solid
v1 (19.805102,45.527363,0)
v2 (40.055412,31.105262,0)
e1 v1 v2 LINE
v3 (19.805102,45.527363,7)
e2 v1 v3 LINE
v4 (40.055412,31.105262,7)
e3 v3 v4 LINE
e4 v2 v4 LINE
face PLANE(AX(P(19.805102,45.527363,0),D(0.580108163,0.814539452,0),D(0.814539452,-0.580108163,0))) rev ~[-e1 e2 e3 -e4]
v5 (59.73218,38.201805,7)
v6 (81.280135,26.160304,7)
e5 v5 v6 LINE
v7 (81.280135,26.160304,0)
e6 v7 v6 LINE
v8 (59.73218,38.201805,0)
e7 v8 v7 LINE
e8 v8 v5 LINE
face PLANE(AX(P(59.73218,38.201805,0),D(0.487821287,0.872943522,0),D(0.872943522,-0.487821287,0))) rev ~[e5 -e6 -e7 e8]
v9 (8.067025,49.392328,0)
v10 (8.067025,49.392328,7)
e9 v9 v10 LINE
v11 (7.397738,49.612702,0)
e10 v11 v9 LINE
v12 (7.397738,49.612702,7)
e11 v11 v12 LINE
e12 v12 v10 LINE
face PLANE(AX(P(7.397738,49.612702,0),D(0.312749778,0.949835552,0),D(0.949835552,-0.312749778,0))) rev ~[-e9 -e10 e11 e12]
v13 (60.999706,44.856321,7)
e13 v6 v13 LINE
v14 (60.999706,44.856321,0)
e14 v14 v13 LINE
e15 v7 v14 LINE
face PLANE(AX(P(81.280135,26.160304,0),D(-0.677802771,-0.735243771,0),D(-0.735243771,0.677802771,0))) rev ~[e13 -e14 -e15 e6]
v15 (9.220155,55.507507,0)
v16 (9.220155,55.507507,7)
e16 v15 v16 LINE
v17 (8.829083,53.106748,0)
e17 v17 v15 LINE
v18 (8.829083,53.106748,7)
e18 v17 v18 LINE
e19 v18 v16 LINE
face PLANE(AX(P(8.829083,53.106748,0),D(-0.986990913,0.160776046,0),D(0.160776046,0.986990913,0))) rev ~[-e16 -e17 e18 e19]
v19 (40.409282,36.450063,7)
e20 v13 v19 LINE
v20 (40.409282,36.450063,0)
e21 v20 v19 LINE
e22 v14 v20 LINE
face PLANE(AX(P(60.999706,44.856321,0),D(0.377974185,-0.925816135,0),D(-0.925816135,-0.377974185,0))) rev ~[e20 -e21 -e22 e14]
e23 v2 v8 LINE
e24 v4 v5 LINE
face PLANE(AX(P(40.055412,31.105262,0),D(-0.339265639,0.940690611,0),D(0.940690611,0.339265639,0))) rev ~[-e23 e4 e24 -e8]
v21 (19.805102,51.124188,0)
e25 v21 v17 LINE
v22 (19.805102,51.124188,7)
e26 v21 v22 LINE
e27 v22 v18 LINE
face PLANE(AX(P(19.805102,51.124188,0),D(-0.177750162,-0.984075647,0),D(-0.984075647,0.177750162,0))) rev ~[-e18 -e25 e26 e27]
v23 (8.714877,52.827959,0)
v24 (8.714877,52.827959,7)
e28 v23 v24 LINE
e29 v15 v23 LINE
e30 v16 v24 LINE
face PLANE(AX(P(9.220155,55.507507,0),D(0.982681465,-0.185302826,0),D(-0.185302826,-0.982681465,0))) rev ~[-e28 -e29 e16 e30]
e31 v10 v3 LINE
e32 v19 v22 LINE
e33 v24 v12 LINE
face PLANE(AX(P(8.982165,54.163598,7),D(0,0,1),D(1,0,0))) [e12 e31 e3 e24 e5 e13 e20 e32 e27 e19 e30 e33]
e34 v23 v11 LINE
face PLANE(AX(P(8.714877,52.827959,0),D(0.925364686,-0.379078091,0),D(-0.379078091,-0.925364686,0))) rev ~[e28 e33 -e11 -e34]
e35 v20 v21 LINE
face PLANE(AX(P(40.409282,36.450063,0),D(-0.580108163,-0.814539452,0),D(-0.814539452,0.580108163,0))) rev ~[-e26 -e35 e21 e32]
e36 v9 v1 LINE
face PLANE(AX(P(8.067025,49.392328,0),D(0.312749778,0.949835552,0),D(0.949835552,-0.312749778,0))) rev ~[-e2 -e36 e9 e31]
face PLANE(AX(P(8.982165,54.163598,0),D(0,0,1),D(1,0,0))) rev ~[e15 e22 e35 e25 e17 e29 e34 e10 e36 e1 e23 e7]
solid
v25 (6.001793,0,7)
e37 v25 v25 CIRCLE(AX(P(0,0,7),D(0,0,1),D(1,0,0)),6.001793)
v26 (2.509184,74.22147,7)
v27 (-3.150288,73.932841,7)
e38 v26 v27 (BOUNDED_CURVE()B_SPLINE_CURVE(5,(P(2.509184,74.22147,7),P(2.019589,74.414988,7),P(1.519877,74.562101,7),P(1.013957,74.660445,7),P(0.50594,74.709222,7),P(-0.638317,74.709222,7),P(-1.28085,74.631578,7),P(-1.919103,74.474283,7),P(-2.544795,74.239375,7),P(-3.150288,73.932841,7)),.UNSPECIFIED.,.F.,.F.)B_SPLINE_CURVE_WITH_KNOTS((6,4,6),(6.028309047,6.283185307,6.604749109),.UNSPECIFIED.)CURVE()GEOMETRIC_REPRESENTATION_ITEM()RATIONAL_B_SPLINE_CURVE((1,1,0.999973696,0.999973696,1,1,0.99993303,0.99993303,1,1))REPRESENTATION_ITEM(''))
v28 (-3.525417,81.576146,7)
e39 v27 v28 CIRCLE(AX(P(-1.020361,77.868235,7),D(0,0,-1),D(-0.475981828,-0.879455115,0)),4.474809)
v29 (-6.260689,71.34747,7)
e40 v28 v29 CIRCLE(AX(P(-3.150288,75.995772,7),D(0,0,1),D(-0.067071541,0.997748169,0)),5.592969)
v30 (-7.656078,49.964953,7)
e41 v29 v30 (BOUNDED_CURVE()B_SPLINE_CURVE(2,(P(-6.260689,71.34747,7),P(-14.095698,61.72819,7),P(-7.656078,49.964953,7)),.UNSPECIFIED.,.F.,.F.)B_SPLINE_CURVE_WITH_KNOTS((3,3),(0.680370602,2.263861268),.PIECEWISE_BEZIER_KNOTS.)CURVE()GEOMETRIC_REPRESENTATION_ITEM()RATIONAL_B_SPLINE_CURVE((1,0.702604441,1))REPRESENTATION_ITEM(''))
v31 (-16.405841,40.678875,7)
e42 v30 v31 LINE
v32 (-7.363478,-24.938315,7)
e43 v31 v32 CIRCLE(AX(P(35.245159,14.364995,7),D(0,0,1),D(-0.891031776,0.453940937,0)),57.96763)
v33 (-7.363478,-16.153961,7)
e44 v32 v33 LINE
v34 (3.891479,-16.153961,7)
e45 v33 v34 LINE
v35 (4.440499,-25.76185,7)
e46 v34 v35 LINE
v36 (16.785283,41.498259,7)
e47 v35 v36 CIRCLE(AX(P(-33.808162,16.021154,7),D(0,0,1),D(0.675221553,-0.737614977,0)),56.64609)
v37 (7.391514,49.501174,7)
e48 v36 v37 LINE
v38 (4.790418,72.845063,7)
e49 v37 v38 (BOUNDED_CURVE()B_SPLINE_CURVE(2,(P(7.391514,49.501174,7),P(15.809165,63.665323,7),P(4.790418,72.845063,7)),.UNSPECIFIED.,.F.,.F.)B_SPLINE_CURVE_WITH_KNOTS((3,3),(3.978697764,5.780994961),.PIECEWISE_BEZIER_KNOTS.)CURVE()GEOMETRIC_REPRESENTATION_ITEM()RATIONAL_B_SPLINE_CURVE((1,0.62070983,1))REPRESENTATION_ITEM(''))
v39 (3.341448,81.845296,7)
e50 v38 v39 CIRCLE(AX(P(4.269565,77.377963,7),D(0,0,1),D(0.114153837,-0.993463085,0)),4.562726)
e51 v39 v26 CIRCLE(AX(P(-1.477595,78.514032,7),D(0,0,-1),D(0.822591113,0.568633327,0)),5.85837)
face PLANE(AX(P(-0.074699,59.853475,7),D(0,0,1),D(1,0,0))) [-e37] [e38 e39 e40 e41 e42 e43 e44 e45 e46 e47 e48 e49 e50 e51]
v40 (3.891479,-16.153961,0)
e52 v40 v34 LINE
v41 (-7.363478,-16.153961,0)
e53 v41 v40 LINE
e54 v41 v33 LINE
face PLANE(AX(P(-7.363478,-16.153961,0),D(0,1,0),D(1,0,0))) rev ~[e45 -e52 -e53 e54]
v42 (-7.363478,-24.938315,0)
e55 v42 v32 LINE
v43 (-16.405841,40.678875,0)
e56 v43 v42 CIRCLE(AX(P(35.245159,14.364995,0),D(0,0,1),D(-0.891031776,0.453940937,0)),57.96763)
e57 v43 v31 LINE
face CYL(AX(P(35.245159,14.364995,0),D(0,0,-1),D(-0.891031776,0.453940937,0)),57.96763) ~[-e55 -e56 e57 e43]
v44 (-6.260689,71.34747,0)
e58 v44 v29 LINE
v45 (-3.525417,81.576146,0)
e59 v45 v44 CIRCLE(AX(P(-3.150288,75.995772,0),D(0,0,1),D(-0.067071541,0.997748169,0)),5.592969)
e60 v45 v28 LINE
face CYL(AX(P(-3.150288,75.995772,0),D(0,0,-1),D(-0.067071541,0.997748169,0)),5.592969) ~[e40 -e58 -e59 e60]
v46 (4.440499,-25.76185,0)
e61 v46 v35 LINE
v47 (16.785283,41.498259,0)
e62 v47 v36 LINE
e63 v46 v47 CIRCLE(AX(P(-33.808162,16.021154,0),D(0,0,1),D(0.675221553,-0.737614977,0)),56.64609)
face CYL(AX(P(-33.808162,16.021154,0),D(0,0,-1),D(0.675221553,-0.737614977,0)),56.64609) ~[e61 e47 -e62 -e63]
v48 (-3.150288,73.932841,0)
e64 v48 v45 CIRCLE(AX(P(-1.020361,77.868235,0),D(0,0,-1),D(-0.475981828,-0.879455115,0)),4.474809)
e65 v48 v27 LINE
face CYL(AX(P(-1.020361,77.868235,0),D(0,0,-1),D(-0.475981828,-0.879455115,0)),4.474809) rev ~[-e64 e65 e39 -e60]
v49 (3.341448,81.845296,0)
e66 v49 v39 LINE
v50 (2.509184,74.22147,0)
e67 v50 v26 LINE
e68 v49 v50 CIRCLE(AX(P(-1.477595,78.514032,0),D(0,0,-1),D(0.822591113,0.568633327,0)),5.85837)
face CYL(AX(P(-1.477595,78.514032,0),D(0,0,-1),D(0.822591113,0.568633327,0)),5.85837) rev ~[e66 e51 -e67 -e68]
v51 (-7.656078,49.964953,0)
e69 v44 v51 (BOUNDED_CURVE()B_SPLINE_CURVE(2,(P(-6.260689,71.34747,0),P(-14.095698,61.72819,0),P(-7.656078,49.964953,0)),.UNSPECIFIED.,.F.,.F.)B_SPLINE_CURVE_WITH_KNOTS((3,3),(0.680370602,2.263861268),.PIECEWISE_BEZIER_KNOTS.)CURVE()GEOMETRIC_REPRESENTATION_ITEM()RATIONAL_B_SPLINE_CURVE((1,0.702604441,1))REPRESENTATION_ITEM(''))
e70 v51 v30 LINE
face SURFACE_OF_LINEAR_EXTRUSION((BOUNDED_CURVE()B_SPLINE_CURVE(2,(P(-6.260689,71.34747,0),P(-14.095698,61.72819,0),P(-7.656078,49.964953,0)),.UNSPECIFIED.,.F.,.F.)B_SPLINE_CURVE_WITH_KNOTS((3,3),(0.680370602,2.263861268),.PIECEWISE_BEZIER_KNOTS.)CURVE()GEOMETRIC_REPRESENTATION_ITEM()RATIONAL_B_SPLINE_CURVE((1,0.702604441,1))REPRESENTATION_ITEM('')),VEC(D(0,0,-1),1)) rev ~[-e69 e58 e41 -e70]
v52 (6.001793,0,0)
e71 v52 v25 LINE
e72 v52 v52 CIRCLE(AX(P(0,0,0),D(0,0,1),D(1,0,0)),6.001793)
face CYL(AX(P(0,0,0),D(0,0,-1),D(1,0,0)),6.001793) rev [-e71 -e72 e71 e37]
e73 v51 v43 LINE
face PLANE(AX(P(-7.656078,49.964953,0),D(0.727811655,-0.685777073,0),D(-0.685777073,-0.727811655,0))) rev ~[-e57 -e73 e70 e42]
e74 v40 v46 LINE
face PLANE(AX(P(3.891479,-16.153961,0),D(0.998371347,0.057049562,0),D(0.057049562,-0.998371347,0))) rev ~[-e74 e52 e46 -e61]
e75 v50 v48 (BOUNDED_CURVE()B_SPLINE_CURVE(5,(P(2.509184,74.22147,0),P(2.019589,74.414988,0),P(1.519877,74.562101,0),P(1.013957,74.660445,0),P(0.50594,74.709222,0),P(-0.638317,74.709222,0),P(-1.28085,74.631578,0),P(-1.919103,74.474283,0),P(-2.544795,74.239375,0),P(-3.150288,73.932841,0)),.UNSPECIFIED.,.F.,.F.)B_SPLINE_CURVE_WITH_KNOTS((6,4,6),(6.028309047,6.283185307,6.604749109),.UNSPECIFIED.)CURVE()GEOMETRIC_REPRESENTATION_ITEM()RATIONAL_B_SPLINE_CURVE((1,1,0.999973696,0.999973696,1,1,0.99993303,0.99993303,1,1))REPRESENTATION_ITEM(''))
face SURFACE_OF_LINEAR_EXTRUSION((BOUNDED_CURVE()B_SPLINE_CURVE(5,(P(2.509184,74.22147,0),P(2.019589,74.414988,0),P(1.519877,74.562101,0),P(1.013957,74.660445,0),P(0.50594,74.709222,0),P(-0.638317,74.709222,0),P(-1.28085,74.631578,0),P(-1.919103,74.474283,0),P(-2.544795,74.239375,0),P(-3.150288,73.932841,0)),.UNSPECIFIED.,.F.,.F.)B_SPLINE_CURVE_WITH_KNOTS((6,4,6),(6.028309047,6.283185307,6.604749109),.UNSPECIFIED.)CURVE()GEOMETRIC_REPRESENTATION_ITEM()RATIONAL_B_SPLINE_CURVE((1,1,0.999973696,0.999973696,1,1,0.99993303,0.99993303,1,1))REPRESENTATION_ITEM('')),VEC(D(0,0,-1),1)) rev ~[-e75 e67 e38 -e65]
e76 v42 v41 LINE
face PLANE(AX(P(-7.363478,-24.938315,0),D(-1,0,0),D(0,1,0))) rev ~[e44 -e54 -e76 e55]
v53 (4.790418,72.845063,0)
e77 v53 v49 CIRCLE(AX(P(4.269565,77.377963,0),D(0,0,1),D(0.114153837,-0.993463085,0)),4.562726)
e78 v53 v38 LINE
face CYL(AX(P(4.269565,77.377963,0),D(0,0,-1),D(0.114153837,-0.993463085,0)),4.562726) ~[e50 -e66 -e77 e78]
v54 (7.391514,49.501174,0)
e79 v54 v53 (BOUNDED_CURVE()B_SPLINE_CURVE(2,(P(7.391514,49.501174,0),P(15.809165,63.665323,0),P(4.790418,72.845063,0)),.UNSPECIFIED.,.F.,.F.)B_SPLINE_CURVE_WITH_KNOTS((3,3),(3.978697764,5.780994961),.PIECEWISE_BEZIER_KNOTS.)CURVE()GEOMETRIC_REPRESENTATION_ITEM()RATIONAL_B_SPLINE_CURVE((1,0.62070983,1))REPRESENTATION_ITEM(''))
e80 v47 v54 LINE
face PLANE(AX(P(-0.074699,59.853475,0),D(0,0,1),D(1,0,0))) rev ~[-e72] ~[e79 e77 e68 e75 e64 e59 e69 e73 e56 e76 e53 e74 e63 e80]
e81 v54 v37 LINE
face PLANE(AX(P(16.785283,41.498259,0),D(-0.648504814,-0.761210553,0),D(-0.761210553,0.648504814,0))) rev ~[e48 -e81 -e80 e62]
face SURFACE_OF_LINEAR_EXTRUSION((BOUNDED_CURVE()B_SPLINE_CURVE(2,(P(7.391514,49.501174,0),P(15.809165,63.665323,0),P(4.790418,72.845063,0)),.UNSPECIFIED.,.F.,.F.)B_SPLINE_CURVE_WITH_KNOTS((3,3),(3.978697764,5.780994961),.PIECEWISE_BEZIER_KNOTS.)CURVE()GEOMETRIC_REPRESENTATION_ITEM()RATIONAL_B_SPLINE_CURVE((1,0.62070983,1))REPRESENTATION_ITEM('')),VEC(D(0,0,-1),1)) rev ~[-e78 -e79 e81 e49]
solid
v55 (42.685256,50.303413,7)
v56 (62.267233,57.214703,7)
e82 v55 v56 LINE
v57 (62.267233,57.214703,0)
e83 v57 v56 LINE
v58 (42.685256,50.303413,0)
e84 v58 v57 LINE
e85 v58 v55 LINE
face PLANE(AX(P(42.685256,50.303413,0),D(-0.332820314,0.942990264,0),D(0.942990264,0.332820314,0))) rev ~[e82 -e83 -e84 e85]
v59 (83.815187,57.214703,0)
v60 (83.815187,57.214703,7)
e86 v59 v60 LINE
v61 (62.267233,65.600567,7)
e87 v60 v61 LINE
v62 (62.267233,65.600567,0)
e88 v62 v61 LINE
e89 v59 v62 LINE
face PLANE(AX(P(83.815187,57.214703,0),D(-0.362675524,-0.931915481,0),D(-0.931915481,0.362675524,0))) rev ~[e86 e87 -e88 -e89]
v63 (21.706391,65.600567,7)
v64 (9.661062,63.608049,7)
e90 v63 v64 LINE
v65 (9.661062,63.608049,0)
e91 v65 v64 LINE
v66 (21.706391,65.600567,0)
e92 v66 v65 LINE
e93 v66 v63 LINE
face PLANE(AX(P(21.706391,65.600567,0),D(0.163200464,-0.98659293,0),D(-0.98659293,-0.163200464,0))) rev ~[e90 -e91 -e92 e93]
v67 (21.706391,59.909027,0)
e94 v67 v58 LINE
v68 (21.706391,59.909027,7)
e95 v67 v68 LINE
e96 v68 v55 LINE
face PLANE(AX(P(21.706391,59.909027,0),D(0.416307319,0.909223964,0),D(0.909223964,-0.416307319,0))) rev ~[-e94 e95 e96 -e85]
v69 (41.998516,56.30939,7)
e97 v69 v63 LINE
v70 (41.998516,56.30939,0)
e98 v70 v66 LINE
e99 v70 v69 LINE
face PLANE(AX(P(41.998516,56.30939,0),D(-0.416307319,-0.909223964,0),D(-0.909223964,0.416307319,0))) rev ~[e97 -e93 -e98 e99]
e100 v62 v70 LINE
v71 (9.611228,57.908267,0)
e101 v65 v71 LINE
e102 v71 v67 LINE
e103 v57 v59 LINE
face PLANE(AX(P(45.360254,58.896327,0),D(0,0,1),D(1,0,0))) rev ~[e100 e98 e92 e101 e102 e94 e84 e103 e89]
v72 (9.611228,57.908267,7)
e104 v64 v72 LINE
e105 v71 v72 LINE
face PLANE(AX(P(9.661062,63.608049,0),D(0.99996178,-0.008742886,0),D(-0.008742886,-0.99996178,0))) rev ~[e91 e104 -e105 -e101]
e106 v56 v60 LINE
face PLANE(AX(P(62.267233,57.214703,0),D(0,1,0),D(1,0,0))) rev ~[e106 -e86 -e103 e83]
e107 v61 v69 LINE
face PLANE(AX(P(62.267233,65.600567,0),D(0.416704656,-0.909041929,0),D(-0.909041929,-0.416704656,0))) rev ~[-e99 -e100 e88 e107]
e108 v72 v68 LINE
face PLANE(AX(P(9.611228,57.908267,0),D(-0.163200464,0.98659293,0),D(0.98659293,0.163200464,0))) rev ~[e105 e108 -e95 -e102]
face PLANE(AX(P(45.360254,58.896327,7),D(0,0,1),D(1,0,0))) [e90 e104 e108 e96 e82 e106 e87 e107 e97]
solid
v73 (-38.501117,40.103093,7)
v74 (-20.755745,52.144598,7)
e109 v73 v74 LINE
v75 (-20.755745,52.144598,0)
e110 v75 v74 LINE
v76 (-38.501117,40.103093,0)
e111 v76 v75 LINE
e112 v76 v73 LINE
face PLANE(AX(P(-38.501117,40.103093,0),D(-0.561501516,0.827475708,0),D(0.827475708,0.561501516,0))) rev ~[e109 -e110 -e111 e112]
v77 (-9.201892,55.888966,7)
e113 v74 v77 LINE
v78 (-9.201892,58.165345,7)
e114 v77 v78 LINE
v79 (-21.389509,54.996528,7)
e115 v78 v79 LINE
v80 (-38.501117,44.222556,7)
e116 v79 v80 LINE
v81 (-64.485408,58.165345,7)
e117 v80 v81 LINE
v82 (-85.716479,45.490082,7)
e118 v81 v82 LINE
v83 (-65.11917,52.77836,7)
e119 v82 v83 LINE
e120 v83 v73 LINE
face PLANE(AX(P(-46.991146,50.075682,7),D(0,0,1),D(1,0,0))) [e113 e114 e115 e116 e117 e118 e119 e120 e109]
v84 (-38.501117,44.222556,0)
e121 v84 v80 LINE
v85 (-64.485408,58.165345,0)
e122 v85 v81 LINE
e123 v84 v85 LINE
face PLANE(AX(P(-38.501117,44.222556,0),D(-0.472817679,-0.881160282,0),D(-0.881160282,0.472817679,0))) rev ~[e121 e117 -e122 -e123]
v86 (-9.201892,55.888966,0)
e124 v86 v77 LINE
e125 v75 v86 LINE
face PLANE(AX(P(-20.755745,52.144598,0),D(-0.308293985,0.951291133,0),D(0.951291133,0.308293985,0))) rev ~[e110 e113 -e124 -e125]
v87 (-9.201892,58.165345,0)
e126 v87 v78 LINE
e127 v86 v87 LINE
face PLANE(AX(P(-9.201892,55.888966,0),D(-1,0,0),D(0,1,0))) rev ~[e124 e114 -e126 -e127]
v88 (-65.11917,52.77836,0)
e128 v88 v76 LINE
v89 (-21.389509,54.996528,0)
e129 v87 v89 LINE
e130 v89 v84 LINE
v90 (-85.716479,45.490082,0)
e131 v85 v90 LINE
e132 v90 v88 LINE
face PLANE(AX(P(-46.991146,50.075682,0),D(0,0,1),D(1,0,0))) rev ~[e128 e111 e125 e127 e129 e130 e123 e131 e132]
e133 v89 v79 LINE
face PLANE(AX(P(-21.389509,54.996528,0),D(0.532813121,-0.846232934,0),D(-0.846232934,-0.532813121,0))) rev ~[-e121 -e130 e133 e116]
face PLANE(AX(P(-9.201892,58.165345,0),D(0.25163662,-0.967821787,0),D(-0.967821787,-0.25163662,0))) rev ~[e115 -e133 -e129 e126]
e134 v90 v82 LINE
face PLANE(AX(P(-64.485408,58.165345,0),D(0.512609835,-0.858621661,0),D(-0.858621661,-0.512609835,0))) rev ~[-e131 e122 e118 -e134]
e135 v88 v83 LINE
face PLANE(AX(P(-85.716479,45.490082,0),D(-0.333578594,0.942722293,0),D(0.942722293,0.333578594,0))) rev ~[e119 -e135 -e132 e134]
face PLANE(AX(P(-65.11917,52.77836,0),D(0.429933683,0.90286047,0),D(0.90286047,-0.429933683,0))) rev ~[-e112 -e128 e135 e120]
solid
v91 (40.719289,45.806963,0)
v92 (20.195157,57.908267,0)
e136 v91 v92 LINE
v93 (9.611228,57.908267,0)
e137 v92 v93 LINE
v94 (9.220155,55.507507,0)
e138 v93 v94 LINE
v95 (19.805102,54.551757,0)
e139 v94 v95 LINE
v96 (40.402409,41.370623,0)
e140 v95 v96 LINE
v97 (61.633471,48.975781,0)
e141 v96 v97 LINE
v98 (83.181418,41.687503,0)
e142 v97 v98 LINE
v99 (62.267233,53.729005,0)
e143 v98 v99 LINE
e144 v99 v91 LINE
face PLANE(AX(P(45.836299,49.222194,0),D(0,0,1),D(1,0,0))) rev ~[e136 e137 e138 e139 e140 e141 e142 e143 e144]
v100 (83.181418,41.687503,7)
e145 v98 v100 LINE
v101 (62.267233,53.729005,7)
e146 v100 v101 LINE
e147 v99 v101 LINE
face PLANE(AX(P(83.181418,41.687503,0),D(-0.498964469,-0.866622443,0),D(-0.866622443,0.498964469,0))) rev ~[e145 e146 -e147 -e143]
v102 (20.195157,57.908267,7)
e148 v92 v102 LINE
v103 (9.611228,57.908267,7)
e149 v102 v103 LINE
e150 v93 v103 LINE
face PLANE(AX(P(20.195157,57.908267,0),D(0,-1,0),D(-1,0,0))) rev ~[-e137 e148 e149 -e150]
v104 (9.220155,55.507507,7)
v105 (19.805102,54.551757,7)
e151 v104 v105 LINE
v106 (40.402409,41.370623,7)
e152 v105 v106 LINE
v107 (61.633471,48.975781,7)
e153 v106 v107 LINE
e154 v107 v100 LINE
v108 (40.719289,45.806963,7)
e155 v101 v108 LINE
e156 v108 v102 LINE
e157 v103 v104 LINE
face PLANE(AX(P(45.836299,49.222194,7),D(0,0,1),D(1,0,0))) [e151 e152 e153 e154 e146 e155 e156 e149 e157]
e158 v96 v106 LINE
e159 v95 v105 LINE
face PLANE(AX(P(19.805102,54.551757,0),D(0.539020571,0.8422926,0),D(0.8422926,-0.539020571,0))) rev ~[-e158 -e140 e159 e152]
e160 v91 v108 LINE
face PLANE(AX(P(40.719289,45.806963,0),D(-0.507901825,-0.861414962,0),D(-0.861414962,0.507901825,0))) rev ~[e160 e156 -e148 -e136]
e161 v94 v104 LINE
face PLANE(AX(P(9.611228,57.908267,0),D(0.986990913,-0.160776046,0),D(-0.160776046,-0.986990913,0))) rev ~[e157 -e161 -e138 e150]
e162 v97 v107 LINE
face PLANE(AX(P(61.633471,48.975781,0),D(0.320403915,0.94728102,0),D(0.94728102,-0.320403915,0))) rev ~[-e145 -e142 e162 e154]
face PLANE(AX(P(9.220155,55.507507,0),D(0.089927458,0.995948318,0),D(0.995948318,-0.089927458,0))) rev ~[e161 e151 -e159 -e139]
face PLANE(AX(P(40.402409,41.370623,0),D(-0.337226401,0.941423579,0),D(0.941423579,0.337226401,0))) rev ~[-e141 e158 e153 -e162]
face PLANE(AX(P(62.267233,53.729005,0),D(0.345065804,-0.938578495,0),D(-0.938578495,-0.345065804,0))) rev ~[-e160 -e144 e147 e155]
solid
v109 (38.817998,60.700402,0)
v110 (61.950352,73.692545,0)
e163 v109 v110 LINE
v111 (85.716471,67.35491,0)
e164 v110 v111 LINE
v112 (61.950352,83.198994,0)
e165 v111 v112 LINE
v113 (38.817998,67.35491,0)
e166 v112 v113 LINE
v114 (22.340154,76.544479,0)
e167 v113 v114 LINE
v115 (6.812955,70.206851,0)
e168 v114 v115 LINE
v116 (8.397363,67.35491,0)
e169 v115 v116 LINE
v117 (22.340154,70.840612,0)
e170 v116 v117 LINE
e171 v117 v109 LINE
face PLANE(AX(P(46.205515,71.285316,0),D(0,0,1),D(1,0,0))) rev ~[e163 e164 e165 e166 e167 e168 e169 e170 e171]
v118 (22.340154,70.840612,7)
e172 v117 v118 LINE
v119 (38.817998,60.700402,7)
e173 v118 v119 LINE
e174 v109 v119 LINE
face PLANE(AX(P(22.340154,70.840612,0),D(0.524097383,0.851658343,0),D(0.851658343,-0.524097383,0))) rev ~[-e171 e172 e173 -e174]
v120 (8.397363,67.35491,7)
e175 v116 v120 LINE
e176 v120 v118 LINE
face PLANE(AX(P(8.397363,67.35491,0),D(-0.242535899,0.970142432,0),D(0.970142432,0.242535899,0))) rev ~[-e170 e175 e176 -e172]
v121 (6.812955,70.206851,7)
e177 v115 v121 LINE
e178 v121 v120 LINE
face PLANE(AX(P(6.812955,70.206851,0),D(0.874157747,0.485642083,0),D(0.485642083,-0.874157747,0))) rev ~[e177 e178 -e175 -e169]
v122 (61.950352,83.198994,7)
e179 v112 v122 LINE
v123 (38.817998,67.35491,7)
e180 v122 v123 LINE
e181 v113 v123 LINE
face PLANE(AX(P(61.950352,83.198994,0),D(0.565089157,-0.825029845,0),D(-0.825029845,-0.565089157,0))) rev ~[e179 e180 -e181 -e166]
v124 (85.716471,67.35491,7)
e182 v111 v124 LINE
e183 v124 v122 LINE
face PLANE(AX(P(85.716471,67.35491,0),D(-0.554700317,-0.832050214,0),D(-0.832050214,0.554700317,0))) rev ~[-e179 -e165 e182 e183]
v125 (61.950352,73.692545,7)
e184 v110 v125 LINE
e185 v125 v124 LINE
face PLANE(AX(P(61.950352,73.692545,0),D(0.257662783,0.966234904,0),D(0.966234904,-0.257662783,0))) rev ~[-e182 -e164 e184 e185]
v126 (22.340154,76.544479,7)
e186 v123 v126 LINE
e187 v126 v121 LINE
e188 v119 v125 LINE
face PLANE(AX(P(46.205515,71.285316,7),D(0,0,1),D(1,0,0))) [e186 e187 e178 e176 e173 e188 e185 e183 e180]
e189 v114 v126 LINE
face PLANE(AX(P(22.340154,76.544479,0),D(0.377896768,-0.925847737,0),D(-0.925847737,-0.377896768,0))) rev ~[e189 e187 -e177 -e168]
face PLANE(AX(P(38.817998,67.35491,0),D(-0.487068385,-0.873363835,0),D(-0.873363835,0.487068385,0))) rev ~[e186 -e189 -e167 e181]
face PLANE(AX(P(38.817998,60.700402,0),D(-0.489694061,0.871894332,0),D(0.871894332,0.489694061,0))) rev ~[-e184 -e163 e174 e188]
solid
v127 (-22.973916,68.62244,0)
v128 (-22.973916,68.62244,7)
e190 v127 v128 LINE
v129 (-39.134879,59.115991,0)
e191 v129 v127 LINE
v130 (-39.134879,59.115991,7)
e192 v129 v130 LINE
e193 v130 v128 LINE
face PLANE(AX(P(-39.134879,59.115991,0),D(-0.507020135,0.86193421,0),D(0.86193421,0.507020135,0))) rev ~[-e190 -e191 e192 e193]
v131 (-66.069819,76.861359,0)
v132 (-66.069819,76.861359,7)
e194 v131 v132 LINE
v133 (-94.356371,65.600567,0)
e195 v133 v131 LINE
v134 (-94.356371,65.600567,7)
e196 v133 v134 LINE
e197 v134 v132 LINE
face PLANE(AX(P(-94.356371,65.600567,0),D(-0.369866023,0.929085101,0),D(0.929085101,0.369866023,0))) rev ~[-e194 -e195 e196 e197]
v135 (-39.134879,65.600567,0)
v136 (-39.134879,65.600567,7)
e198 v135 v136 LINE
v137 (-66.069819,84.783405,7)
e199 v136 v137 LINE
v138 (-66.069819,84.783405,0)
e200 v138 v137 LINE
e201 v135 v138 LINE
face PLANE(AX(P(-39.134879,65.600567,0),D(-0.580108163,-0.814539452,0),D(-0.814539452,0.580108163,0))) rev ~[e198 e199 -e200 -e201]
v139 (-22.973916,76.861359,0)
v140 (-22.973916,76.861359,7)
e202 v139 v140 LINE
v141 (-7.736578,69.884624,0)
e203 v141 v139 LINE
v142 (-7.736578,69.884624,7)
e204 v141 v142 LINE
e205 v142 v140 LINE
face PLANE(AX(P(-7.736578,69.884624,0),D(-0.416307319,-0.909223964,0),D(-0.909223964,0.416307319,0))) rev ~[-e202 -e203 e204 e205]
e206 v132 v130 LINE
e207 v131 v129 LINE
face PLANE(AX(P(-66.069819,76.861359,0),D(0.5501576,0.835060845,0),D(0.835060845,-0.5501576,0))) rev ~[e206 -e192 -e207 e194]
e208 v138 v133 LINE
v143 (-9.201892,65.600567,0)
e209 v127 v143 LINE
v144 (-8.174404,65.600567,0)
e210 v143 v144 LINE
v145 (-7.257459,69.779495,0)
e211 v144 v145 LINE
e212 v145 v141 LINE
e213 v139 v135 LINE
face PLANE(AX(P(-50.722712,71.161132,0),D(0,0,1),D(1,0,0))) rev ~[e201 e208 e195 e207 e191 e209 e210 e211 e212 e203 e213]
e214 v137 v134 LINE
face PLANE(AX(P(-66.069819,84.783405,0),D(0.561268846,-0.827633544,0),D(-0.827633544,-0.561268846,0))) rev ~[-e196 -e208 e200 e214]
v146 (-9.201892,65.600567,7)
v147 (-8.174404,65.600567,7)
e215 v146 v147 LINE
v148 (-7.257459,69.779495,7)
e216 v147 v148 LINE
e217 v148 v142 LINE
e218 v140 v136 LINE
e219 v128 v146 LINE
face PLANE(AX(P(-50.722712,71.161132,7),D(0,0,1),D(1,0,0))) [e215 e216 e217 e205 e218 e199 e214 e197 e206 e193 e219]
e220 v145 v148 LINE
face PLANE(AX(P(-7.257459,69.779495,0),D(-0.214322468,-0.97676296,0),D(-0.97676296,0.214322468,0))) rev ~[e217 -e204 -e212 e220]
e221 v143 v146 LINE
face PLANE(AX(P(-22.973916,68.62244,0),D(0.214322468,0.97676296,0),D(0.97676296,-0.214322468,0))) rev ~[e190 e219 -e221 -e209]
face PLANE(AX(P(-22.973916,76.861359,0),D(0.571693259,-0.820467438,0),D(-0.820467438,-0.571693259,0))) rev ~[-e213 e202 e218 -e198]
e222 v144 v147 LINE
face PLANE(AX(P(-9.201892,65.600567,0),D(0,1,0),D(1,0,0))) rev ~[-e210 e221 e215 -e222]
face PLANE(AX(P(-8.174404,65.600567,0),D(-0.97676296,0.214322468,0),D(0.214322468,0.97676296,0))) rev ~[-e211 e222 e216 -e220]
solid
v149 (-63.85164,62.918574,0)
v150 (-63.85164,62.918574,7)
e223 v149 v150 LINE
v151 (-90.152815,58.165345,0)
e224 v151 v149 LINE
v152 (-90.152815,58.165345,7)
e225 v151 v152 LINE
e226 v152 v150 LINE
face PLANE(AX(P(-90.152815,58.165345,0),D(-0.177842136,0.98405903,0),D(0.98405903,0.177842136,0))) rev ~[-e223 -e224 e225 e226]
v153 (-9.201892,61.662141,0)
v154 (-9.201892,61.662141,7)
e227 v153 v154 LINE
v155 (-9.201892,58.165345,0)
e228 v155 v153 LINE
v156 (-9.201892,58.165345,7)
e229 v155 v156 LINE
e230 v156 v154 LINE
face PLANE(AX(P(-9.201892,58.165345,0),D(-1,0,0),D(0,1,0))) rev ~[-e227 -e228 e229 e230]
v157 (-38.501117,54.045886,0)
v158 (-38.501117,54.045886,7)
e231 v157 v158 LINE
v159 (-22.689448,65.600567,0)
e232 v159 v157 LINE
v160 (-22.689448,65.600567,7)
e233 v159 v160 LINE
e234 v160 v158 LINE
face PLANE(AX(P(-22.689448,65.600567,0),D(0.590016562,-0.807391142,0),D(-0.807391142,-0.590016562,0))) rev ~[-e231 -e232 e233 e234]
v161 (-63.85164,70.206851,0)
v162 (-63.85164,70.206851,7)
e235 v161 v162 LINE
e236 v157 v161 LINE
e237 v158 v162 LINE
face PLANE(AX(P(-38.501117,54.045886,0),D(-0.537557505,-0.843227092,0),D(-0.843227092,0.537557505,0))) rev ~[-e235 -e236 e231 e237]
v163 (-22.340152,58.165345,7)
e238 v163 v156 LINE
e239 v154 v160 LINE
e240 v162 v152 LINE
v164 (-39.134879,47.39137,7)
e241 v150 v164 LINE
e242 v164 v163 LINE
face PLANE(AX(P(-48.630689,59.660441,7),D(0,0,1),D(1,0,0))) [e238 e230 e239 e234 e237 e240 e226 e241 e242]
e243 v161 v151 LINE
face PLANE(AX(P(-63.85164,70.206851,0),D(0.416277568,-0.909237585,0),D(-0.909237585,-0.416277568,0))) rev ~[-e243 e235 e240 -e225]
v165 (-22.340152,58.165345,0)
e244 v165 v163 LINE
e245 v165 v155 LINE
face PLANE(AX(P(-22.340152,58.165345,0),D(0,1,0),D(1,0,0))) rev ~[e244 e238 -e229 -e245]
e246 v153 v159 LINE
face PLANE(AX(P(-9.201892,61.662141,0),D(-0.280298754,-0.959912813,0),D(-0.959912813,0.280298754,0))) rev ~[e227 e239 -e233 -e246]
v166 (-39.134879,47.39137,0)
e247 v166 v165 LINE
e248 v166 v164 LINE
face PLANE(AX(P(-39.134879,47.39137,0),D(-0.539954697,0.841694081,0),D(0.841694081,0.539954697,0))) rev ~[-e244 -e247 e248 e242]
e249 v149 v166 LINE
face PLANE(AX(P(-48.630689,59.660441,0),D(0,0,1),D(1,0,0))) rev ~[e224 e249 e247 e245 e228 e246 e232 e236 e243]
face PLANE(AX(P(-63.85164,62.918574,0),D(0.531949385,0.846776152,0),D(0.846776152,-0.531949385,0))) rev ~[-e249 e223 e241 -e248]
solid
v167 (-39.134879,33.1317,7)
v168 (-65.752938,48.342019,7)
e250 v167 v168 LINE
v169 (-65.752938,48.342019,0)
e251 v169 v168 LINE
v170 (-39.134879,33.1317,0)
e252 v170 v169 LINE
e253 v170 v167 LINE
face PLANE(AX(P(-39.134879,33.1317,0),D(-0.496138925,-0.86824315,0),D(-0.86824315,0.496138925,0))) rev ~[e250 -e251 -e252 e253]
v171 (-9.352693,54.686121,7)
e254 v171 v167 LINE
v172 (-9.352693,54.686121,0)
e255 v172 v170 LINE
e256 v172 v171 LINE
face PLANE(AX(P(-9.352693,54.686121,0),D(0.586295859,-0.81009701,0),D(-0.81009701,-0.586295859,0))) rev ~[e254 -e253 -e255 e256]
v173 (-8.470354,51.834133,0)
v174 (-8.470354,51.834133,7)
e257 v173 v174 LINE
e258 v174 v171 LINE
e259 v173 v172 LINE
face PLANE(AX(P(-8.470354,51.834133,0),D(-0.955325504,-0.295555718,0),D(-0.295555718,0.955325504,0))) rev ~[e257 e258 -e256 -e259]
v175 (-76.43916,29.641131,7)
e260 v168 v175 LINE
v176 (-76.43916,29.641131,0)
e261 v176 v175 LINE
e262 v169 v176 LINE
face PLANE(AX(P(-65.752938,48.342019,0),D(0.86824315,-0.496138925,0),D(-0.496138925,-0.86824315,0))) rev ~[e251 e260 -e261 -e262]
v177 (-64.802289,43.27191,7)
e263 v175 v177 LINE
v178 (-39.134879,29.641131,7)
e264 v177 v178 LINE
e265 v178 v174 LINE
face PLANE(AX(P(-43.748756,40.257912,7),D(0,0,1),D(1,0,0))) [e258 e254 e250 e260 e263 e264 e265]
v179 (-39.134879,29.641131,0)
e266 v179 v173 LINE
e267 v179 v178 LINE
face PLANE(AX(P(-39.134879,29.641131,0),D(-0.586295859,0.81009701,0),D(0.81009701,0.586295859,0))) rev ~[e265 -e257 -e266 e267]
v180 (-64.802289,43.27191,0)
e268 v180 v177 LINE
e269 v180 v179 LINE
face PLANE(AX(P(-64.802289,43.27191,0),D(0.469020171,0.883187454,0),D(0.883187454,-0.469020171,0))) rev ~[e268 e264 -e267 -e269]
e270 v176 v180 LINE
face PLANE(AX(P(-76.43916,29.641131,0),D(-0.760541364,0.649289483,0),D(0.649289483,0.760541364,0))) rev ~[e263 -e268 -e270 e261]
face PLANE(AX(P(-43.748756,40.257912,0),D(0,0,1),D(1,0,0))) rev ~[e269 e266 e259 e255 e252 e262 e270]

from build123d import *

# Parameters (mm, degrees)
F2_DEPTH = 7
F0_R     = 6.001793311


with BuildPart() as f2:
    # F1 (on Top) → F2 (new body)
    with BuildSketch(Plane.XY):
        Polygon((-9.2018917203, 65.600566566), (-7.7365781023, 69.8846236704), (-22.973915562, 76.861359179), (-39.1348786652, 65.600566566), (-66.0698190331, 84.7834050655), (-94.3563714088, 65.600566566), (-66.0698190331, 76.861359179), (-39.1348786652, 59.1159909964), (-22.973915562, 68.6224400997), align=None)
        Polygon((-8.6877066642, 65.600566566), (-7.7365781023, 69.8846236704), (-9.2018917203, 65.600566566), align=None)
        Polygon((-7.2574589443, 69.779494786), (-7.7365781023, 69.8846236704), (-8.6877066642, 65.600566566), (-8.1744042482, 65.600566566), align=None)
    extrude(amount=F2_DEPTH)


with BuildPart() as f2b:
    # F1 (on Top) → F2, piece 2 (new body)
    with BuildSketch(Plane.XY):
        Polygon((8.8290832937, 53.1067475677), (9.2201554216, 55.5075071752), (8.7148769459, 52.8279593083), align=None)
        Polygon((19.8051016778, 51.1241875359), (8.8290832937, 53.1067475677), (8.0670248717, 49.3923278159), (19.8051016778, 45.5273630774), (40.0554117326, 31.1052621913), (59.7321800888, 38.2018052042), (81.2801346183, 26.1603035033), (60.9997063875, 44.8563210666), (40.4092817274, 36.4500634091), align=None)
        Polygon((8.0670248717, 49.3923278159), (8.8290832937, 53.1067475677), (8.7148769459, 52.8279593083), align=None)
        Polygon((8.0670248717, 49.3923278159), (8.7148769459, 52.8279593083), (7.3977382849, 49.6127019964), align=None)
    extrude(amount=F2_DEPTH)


with BuildPart() as f2c:
    # F1 (on Top) → F2, piece 3 (new body)
    with BuildSketch(Plane.XY):
        Polygon((20.1951572392, 57.9082667828), (9.6112275496, 57.9082667828), (9.2201554216, 55.5075071752), (19.8051016778, 54.5517574751), (40.4024086893, 41.3706228137), (61.6334713995, 48.9757806063), (83.1814184785, 41.6875034571), (62.2672326863, 53.7290051579), (40.7192893326, 45.8069629967), align=None)
    extrude(amount=F2_DEPTH)


with BuildPart() as f2d:
    # F1 (on Top) → F2, piece 4 (new body)
    with BuildSketch(Plane.XY):
        Polygon((21.7063911259, 65.600566566), (9.6610620067, 63.6080494471), (9.6112275496, 57.9082667828), (21.7063911259, 59.9090274297), (42.6852558357, 50.3034128834), (62.2672326863, 57.2147034109), (83.8151872158, 57.2147034109), (62.2672326863, 65.600566566), (41.9985157897, 56.3093903969), align=None)
    extrude(amount=F2_DEPTH)


with BuildPart() as f2e:
    # F1 (on Top) → F2, piece 5 (new body)
    with BuildSketch(Plane.XY):
        Polygon((22.3401542753, 76.5444785357), (6.8129552528, 70.2068507671), (8.3973631263, 67.3549100757), (22.3401542753, 70.8406120539), (38.8179980218, 60.7004016638), (61.9503520429, 73.6925452948), (85.716471076, 67.3549100757), (61.9503520429, 83.1989943981), (38.8179980218, 67.3549100757), align=None)
    extrude(amount=F2_DEPTH)


with BuildPart() as f2f:
    # F1 (on Top) → F2, piece 6 (new body)
    with BuildSketch(Plane.XY):
        Polygon((-9.2018917203, 58.165345341), (-9.2018917203, 61.6621409912), (-22.6894478348, 65.600566566), (-38.5011173785, 54.0458858013), (-63.8516396284, 70.2068507671), (-90.1528149843, 58.165345341), (-63.8516396284, 62.9185736179), (-39.1348786652, 47.3913699389), (-22.3401524127, 58.165345341), align=None)
    extrude(amount=F2_DEPTH)


with BuildPart() as f2g:
    # F1 (on Top) → F2, piece 7 (new body)
    with BuildSketch(Plane.XY):
        Polygon((-9.2018917203, 55.8889657259), (-9.2018917203, 58.165345341), (-21.3895086199, 54.9965277314), (-38.5011173785, 44.2225560546), (-64.4854083657, 58.165345341), (-85.7164785266, 45.4900823534), (-65.1191696525, 52.7783595026), (-38.5011173785, 40.1030927896), (-20.7557454705, 52.1445982158), align=None)
    extrude(amount=F2_DEPTH)


with BuildPart() as f2h:
    # F1 (on Top) → F2, piece 8 (new body)
    with BuildSketch(Plane.XY):
        Polygon((-8.4703536704, 51.8341325223), (-9.3526932465, 54.686120996), (-39.1348786652, 33.1317000091), (-65.7529383898, 48.3420193195), (-76.4391598123, 29.6411311758), (-64.8022890091, 43.2719103992), (-39.1348786652, 29.6411311758), align=None)
    extrude(amount=F2_DEPTH)


with BuildPart() as f2i:
    # F0 (on Top) → F2, piece 9 (new body)
    with BuildSketch(Plane.XY):
        with BuildLine():
            add(Edge.make_bspline(
                [(2.5091840812, 74.2214696281), (1.275189863, 74.7092217207), (0, 74.7092217207)],
                knots=[6.0283090467, 6.0283090467, 6.0283090467, 6.2831853072, 6.2831853072, 6.2831853072], degree=2, weights=[1, 0.9918907452, 1]))
            add(Edge.make_bspline(
                [(0, 74.7092217207), (-1.6167117648, 74.7092217207), (-3.1502883978, 73.9328411143)],
                knots=[0, 0, 0, 0.322084502, 0.322084502, 0.322084502], degree=2, weights=[1, 0.9870606976, 1]))
            add(Edge.make_bspline(
                [(-3.1502883978, 73.9328411143), (-4.8597889321, 73.0673981799), (-6.2606890382, 71.3474702214)],
                knots=[0.322084502, 0.322084502, 0.322084502, 0.6803706018, 0.6803706018, 0.6803706018], degree=2, weights=[1, 0.9839967509, 1]))
            add(Edge.make_bspline(
                [(-6.2606890382, 71.3474702214), (-14.0956980801, 61.7281896981), (-7.6560782658, 49.9649534)],
                knots=[0.6803706018, 0.6803706018, 0.6803706018, 2.2638612684, 2.2638612684, 2.2638612684], degree=2, weights=[1, 0.702604441, 1]))
            add(Edge.make_bspline(
                [(-7.6560782658, 49.9649534), (-0.3089048412, 36.5438913486), (7.39151443, 49.5011744871)],
                knots=[2.2638612684, 2.2638612684, 2.2638612684, 3.9786977641, 3.9786977641, 3.9786977641], degree=2, weights=[1, 0.6543918533, 1]))
            add(Edge.make_bspline(
                [(7.39151443, 49.5011744871), (15.8091647836, 63.6653225872), (4.7904175132, 72.8450629179)],
                knots=[3.9786977641, 3.9786977641, 3.9786977641, 5.780994961, 5.780994961, 5.780994961], degree=2, weights=[1, 0.6207098304, 1]))
            add(Edge.make_bspline(
                [(4.7904175132, 72.8450629179), (3.7061840278, 73.7483399974), (2.5091840812, 74.2214696281)],
                knots=[5.780994961, 5.780994961, 5.780994961, 6.0283090467, 6.0283090467, 6.0283090467], degree=2, weights=[1, 0.9923642053, 1]))
        make_face()
        with BuildLine():
            add(Edge.make_bspline(
                [(-3.1502883978, 73.9328411143), (-4.8597889321, 73.0673981799), (-6.2606890382, 71.3474702214)],
                knots=[0.322084502, 0.322084502, 0.322084502, 0.6803706018, 0.6803706018, 0.6803706018], degree=2, weights=[1, 0.9839967509, 1]))
            ThreePointArc((-3.1502883978, 73.9328411143), (-5.4897898019, 77.648877575), (-3.5254174191, 81.5761457016))
            ThreePointArc((-3.5254174191, 81.5761457016), (-8.5534059956, 77.440630592), (-6.2606890382, 71.3474702214))
        make_face()
        with BuildLine():
            ThreePointArc((3.3414482051, 81.8452960515), (4.3461761215, 77.878272962), (2.5091840812, 74.2214696281))
            add(Edge.make_bspline(
                [(4.7904175132, 72.8450629179), (3.7061840278, 73.7483399974), (2.5091840812, 74.2214696281)],
                knots=[5.780994961, 5.780994961, 5.780994961, 6.0283090467, 6.0283090467, 6.0283090467], degree=2, weights=[1, 0.9923642053, 1]))
            ThreePointArc((4.7904175132, 72.8450629179), (8.7742862639, 78.1031886911), (3.3414482051, 81.8452960515))
        make_face()
        with BuildLine():
            add(Edge.make_bspline(
                [(-7.6560782658, 49.9649534), (-0.3089048412, 36.5438913486), (7.39151443, 49.5011744871)],
                knots=[2.2638612684, 2.2638612684, 2.2638612684, 3.9786977641, 3.9786977641, 3.9786977641], degree=2, weights=[1, 0.6543918533, 1]))
            Line((-7.6560782658, 49.9649534), (-16.4058412819, 40.6788752355))
            ThreePointArc((-16.4058412819, 40.6788752355), (-22.1797809449, 6.4515630322), (-7.3634781875, -24.9383151531))
            Line((-7.3634781875, -24.9383151531), (-7.3634781875, -16.1539614201))
            Line((-7.3634781875, -16.1539614201), (3.8914789911, -16.1539614201))
            Line((3.8914789911, -16.1539614201), (4.440499004, -25.7618501782))
            ThreePointArc((4.440499004, -25.7618501782), (21.9072802596, 5.7952549798), (16.7852827208, 41.4982586993))
            Line((16.7852827208, 41.4982586993), (7.39151443, 49.5011744871))
        make_face()
        Circle(F0_R, mode=Mode.SUBTRACT)
    extrude(amount=F2_DEPTH)


solid = Compound([f2.part, f2b.part, f2c.part, f2d.part, f2e.part, f2f.part, f2g.part, f2h.part, f2i.part])
